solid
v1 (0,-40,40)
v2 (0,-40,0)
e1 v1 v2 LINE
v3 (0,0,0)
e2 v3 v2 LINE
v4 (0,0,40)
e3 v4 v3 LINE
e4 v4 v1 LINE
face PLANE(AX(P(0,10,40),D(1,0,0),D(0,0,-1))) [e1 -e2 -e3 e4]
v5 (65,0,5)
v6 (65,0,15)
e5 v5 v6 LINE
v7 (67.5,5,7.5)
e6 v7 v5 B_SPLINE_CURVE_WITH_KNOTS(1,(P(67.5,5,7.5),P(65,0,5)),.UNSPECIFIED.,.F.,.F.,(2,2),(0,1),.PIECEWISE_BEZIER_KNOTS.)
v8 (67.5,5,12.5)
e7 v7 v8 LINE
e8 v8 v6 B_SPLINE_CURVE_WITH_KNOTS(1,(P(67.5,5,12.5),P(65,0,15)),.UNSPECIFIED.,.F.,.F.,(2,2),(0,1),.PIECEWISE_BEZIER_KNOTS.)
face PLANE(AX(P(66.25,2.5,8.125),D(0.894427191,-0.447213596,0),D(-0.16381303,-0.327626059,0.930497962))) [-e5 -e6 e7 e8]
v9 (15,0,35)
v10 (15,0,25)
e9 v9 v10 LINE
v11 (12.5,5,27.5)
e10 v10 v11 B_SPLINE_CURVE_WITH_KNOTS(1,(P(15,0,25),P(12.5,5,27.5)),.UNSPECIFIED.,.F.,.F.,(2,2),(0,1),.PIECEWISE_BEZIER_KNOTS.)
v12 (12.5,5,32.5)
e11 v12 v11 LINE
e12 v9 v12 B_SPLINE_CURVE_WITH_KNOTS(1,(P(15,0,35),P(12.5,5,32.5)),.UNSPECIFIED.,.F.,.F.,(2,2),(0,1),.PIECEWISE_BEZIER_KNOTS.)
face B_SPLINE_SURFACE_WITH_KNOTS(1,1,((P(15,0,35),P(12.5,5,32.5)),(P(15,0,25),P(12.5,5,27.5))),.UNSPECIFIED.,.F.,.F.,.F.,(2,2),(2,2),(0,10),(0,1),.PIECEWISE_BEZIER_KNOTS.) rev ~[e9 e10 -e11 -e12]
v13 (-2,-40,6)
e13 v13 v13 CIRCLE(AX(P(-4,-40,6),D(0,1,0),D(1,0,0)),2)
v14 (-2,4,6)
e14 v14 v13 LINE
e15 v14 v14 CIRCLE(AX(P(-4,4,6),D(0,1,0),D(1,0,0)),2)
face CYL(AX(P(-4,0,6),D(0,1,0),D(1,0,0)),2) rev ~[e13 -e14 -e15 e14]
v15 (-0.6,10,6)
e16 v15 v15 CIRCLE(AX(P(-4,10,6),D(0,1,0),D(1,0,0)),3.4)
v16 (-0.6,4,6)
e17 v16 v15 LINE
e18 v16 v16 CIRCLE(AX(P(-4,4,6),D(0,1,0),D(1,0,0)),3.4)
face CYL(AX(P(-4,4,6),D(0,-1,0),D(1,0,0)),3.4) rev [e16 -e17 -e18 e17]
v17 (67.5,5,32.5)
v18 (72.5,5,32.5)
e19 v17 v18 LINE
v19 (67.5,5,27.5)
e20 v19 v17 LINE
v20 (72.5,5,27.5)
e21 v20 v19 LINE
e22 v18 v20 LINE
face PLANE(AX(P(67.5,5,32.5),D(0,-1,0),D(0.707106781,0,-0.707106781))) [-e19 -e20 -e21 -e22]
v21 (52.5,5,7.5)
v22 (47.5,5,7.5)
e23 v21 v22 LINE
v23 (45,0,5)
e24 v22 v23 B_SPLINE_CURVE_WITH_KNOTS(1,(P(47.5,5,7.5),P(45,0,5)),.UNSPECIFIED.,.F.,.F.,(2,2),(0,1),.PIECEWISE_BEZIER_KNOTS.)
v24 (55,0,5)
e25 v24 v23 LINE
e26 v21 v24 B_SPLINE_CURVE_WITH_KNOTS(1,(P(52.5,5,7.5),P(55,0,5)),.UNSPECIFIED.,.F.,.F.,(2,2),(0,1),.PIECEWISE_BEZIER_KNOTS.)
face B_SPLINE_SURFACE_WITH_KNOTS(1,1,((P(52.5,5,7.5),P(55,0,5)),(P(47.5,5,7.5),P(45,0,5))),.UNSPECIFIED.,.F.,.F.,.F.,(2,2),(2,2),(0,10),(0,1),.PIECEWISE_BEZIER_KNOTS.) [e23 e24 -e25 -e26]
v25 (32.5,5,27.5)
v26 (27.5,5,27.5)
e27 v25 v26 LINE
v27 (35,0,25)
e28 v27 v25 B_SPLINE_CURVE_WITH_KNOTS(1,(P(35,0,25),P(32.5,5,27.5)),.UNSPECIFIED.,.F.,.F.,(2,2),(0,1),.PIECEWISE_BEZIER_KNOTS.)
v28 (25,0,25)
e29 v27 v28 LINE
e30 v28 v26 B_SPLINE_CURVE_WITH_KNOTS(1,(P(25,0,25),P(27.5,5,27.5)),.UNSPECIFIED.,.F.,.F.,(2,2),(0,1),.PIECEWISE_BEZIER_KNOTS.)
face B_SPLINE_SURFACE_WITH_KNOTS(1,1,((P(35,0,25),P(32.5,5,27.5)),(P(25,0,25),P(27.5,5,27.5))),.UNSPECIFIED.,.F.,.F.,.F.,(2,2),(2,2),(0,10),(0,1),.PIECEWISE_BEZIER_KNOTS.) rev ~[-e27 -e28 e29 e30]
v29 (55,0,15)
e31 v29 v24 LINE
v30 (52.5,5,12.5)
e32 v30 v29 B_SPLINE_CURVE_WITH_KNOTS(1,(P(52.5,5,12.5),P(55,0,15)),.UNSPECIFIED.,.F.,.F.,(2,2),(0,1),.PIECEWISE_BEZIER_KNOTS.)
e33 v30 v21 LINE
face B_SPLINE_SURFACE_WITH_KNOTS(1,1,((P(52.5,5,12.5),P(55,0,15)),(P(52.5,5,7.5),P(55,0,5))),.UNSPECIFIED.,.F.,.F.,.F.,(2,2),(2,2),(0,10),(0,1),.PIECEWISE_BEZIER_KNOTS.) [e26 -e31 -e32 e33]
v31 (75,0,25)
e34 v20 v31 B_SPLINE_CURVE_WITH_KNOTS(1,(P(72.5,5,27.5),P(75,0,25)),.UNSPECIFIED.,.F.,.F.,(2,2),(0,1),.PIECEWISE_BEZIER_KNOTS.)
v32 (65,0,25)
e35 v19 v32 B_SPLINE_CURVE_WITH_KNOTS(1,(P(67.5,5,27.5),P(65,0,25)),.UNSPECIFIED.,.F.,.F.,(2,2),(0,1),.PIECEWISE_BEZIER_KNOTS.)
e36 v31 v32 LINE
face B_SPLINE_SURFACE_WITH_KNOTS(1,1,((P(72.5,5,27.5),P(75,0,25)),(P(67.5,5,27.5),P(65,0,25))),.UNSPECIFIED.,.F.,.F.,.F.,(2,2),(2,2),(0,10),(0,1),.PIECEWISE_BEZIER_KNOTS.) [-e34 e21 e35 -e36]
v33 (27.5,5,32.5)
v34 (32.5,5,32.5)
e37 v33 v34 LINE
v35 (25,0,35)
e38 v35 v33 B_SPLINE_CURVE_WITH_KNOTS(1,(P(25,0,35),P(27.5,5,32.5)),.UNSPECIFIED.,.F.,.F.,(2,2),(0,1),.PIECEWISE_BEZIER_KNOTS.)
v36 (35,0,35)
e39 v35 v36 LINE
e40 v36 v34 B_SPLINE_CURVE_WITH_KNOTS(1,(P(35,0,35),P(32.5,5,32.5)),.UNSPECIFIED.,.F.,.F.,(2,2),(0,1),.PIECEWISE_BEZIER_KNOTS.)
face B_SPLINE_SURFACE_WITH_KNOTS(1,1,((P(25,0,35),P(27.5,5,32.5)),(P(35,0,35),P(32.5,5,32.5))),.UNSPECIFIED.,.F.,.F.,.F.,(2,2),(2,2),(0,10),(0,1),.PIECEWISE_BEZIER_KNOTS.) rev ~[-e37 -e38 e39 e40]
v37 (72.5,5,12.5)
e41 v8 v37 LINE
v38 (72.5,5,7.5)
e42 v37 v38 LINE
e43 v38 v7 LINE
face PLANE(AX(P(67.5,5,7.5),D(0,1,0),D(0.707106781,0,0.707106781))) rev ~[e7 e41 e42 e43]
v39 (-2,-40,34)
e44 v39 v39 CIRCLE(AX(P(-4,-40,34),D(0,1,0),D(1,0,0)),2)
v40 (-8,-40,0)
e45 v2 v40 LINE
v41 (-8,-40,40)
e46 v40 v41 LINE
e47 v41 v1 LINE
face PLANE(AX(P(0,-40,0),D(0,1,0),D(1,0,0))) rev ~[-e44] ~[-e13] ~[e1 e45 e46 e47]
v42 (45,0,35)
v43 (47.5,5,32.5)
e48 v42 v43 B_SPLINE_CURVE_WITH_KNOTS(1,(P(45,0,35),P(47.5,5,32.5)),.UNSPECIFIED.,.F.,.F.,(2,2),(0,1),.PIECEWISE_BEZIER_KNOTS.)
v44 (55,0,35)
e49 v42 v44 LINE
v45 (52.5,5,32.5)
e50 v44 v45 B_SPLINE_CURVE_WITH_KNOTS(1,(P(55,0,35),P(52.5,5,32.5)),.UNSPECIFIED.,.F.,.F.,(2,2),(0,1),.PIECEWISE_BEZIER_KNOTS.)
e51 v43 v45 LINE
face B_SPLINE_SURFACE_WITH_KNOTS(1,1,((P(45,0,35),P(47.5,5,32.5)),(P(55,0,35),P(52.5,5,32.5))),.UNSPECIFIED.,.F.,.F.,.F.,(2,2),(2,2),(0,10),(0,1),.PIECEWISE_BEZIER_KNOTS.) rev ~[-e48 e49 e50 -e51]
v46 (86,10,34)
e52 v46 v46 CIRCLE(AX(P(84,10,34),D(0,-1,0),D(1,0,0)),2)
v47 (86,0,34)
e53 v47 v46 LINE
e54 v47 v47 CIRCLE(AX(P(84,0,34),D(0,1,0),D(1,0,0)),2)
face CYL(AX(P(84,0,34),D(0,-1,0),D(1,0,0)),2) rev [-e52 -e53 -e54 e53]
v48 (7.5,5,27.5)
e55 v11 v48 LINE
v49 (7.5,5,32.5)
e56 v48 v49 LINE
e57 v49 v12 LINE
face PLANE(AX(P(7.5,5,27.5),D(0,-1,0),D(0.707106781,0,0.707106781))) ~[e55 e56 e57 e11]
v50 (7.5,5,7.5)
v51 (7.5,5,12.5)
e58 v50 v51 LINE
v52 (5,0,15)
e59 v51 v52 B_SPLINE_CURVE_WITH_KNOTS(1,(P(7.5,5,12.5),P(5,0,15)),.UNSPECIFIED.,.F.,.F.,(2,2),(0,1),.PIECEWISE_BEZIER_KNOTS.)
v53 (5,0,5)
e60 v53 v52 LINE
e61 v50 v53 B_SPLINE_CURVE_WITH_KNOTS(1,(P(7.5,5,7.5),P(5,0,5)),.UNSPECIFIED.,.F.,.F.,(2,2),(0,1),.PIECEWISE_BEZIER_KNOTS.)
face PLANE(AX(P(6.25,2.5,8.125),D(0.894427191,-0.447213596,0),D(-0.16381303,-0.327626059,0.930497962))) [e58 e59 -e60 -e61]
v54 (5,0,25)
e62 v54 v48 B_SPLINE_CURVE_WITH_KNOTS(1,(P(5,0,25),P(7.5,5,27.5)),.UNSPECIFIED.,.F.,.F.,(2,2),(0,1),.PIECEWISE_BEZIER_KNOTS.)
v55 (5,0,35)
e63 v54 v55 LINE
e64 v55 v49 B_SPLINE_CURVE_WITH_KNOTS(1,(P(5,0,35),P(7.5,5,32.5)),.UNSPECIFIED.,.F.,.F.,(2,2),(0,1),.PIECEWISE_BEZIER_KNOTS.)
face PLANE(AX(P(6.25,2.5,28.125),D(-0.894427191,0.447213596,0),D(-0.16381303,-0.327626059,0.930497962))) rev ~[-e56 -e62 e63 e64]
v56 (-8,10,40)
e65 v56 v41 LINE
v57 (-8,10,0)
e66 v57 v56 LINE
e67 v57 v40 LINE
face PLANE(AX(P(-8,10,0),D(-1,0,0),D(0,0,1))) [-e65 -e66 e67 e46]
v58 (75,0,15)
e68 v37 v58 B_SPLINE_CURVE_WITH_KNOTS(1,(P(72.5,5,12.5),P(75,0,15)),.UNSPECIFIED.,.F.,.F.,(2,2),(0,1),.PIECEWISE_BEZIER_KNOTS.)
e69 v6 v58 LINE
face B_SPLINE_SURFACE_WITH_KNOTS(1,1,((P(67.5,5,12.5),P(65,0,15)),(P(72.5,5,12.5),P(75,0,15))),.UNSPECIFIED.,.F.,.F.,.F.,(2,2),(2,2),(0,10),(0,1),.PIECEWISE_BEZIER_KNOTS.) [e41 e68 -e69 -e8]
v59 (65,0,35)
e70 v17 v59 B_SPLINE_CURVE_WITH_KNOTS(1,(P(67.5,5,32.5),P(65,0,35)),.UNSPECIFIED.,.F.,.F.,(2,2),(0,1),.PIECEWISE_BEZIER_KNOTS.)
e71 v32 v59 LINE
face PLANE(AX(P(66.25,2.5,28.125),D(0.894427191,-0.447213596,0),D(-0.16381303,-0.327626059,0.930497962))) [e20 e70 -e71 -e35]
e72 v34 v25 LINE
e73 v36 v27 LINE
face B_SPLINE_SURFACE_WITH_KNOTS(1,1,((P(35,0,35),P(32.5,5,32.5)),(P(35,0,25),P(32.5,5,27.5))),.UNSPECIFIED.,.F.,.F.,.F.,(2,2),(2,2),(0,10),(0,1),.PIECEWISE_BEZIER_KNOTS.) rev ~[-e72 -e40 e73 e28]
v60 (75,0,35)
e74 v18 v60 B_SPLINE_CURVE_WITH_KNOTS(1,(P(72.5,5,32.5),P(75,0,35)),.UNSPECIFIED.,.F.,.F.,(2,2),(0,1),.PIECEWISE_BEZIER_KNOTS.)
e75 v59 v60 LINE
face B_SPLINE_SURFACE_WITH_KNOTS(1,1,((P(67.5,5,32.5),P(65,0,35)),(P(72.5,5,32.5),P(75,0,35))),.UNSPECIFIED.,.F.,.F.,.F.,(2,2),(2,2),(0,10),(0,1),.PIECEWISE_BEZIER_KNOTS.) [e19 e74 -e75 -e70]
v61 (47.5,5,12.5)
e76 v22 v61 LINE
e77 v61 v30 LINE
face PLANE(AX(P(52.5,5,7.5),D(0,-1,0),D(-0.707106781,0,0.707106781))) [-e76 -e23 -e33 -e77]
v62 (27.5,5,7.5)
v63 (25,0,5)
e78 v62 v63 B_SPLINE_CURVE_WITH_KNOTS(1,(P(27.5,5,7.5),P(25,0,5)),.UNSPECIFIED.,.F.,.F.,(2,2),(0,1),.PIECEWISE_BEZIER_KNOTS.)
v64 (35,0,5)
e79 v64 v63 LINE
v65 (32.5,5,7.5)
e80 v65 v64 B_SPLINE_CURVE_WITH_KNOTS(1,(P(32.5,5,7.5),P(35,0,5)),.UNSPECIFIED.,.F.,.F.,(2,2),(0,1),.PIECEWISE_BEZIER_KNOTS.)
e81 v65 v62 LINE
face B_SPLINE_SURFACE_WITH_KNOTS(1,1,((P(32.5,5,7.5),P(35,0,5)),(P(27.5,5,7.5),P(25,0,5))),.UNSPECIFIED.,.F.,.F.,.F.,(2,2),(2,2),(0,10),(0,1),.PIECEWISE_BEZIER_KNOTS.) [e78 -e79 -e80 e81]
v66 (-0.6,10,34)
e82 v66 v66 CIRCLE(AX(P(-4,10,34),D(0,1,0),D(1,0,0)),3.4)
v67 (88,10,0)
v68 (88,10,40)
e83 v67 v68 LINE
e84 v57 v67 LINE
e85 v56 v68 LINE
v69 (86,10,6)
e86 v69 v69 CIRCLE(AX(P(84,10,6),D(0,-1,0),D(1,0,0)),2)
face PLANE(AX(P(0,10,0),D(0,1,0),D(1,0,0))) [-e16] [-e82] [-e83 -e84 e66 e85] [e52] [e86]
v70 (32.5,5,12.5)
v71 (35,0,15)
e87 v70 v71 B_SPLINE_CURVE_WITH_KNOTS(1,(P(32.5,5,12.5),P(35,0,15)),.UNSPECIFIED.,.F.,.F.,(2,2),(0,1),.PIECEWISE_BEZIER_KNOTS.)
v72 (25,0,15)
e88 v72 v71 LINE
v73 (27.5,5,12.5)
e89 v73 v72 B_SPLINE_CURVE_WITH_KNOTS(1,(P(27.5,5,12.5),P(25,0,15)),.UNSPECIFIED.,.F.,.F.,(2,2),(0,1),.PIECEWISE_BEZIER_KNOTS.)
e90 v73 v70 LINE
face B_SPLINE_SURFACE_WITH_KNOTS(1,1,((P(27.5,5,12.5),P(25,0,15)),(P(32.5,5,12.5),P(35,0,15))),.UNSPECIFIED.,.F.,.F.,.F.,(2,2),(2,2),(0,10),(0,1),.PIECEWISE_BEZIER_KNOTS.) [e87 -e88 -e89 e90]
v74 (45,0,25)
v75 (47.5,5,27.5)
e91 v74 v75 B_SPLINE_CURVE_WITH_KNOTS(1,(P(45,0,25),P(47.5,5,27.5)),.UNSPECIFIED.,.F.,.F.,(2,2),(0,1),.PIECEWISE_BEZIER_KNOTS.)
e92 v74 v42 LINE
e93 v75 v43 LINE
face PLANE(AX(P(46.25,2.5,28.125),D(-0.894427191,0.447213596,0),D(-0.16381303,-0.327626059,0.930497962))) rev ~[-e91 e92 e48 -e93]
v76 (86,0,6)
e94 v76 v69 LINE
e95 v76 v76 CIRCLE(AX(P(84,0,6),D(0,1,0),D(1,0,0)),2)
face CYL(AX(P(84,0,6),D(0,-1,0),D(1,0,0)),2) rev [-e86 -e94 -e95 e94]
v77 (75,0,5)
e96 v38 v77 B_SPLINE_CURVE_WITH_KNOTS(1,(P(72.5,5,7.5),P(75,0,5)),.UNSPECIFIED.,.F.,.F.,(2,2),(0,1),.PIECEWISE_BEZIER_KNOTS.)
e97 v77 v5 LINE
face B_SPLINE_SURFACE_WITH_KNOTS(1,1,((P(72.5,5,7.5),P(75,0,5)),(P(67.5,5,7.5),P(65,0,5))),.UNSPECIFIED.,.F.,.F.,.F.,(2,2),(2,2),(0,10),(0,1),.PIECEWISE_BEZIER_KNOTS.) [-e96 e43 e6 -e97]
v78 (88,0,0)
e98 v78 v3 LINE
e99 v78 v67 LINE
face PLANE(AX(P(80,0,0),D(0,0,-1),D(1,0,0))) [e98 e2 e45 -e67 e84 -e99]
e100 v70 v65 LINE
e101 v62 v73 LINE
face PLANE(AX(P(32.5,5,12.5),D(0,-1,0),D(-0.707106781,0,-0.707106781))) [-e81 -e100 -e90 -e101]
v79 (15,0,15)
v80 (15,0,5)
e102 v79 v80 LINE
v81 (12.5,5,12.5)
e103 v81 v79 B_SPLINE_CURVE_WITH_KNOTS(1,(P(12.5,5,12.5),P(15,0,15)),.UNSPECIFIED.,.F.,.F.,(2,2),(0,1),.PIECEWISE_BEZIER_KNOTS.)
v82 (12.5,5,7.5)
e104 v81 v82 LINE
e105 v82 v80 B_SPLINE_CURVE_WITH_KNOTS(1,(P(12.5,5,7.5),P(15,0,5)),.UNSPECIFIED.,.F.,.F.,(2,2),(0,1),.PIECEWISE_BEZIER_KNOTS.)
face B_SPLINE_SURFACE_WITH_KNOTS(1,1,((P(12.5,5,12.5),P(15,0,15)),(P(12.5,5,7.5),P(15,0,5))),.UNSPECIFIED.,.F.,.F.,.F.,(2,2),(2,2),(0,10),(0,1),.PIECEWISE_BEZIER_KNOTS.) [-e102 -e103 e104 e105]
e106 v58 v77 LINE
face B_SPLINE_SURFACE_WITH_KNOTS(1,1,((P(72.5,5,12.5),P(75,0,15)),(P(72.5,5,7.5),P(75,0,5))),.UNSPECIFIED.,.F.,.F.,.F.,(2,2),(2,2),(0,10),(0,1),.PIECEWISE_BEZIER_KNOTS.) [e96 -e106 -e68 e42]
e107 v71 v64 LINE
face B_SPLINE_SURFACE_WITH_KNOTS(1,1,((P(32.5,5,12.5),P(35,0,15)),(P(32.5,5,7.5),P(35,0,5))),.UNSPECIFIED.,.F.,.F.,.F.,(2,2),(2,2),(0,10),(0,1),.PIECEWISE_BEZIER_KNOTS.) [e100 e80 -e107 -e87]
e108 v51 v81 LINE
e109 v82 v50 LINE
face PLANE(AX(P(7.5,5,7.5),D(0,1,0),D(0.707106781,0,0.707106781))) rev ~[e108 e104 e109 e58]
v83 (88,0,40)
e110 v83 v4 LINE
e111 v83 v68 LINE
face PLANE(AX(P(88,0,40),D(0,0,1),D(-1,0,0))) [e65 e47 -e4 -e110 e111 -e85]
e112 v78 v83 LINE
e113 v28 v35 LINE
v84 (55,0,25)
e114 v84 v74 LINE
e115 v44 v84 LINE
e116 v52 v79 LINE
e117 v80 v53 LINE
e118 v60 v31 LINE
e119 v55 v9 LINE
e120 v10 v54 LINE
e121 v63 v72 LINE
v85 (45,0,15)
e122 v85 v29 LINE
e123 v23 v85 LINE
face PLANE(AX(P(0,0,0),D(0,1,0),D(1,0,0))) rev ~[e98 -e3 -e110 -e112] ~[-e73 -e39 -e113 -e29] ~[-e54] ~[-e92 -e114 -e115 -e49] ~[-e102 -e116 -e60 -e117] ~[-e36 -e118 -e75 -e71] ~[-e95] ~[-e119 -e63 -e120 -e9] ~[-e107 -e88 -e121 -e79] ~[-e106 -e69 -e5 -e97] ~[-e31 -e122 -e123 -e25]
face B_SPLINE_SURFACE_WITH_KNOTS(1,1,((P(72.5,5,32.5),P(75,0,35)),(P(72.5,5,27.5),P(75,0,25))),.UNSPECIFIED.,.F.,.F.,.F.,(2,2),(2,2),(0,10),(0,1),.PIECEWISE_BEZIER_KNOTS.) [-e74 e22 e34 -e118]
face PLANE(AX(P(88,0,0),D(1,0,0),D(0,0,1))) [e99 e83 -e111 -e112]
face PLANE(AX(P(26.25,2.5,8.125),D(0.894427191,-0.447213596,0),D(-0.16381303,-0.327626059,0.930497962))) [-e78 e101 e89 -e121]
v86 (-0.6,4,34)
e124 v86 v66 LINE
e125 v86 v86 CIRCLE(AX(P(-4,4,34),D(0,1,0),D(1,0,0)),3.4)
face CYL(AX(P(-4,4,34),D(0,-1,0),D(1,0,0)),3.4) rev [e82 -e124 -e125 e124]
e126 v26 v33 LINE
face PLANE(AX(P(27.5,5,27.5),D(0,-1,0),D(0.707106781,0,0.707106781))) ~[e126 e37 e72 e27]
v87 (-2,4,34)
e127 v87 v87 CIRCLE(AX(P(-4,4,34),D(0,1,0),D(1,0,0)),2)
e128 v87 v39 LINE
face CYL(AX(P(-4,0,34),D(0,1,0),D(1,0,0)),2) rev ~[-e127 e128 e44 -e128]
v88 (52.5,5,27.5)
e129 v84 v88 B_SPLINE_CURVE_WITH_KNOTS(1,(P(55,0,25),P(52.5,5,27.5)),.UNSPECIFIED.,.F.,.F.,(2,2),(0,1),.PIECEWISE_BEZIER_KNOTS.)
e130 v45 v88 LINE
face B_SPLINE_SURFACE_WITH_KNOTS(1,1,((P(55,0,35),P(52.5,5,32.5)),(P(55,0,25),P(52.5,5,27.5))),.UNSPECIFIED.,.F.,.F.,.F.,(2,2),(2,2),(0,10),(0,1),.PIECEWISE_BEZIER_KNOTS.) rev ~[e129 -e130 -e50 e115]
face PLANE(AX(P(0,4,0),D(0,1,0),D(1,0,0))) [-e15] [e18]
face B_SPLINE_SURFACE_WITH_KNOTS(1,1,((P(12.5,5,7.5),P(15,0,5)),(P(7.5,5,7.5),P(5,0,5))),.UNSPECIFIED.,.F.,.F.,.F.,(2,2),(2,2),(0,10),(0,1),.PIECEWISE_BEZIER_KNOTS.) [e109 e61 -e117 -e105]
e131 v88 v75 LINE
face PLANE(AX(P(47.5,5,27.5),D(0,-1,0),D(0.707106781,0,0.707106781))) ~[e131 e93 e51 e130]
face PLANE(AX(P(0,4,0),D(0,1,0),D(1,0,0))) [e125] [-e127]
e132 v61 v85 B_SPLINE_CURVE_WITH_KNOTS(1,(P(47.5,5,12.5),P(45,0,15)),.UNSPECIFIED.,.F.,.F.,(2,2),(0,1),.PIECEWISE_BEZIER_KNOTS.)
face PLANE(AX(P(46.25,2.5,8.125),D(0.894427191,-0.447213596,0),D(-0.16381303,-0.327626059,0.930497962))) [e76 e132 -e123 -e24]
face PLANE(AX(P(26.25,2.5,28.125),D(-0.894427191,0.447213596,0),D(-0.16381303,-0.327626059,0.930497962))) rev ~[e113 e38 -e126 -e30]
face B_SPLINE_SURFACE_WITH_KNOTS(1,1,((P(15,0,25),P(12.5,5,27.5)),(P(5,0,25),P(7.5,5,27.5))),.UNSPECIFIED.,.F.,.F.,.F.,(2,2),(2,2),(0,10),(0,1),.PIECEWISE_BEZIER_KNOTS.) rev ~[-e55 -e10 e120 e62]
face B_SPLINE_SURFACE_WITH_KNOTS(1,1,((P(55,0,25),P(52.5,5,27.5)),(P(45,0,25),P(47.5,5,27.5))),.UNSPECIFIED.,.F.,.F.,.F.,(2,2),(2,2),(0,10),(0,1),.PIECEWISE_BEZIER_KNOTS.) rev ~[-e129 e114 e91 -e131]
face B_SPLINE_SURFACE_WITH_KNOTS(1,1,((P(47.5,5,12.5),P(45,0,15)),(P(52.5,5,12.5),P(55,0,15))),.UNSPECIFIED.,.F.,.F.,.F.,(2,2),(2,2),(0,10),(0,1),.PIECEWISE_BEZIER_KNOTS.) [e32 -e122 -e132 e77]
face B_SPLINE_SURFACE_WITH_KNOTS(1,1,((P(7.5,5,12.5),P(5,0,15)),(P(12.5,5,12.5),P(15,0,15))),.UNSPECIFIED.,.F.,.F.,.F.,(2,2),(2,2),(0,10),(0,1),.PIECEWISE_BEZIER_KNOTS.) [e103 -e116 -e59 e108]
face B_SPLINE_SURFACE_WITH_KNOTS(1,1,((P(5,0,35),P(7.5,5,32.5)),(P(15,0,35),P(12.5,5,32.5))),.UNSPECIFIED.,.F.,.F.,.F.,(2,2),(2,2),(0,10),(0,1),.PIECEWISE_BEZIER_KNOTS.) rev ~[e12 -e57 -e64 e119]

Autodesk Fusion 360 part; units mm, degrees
sketch "baseplate" plane through (0, 0, 0) normal (0, 1, 0) x (1, 0, 0)
  line L0 (0, 0) -> (80, 0)
  line L1 (80, 0) -> (80, -40)
  line L2 (80, -40) -> (0, -40)
  line L3 (0, -40) -> (0, 0)
  dimension "d1" = 40
  dimension "d2" = 80
extrude "Extrude1" add sketch "baseplate" along normal blind 10
sketch "outside_pryamid" plane through (0, 0, 0) normal (0, 1, 0) x (1, 0, 0)
  line L0 (5, -35) -> (15, -35)
  line L1 (15, -35) -> (15, -25)
  line L2 (15, -25) -> (5, -25)
  line L3 (5, -25) -> (5, -35)
  line L4 (25, -35) -> (35, -35)
  line L5 (35, -35) -> (35, -25)
  line L6 (35, -25) -> (25, -25)
  line L7 (25, -25) -> (25, -35)
  line L8 (45, -35) -> (55, -35)
  line L9 (55, -35) -> (55, -25)
  line L10 (55, -25) -> (45, -25)
  line L11 (45, -25) -> (45, -35)
  line L12 (65, -35) -> (75, -35)
  line L13 (75, -35) -> (75, -25)
  line L14 (75, -25) -> (65, -25)
  line L15 (65, -25) -> (65, -35)
  line L16 (25, -15) -> (35, -15)
  line L17 (35, -15) -> (35, -5)
  line L18 (35, -5) -> (25, -5)
  line L19 (25, -5) -> (25, -15)
  line L20 (5, -15) -> (15, -15)
  line L21 (15, -15) -> (15, -5)
  line L22 (15, -5) -> (5, -5)
  line L23 (5, -5) -> (5, -15)
  line L24 (45, -15) -> (55, -15)
  line L25 (55, -15) -> (55, -5)
  line L26 (55, -5) -> (45, -5)
  line L27 (45, -5) -> (45, -15)
  line L28 (65, -15) -> (75, -15)
  line L29 (75, -15) -> (75, -5)
  line L30 (75, -5) -> (65, -5)
  line L31 (65, -5) -> (65, -15)
  dimension "d5" = 10
  dimension "d6" = 10
ref_plane "WorkPlane1" through (0, 5, 0) normal (0, 1, 0) x (0, 0, 1)
sketch "inside_pryamid" plane through (0, 5, 0) normal (0, 1, 0) x (1, 0, 0)
  line L0 (7.5, -10) -> (7.5, -12.5)
  line L1 (7.5, -12.5) -> (12.5, -12.5)
  line L2 (12.5, -12.5) -> (12.5, -7.5)
  line L3 (12.5, -7.5) -> (7.5, -7.5)
  line L4 (7.5, -7.5) -> (7.5, -10)
  line L5 (32.5, -7.5) -> (27.5, -7.5)
  line L6 (27.5, -10) -> (27.5, -12.5)
  line L7 (32.5, -12.5) -> (32.5, -7.5)
  line L8 (27.5, -7.5) -> (27.5, -10)
  line L9 (27.5, -12.5) -> (32.5, -12.5)
  line L10 (47.5, -7.5) -> (47.5, -10)
  line L11 (47.5, -12.5) -> (52.5, -12.5)
  line L12 (52.5, -7.5) -> (47.5, -7.5)
  line L13 (47.5, -10) -> (47.5, -12.5)
  line L14 (52.5, -12.5) -> (52.5, -7.5)
  line L15 (67.5, -10) -> (67.5, -12.5)
  line L16 (67.5, -12.5) -> (72.5, -12.5)
  line L17 (67.5, -7.5) -> (67.5, -10)
  line L18 (72.5, -12.5) -> (72.5, -7.5)
  line L19 (72.5, -7.5) -> (67.5, -7.5)
  line L20 (67.5, -10) -> (67.5, -12.5)
  line L21 (7.5, -7.5) -> (7.5, -10)
  line L22 (12.5, -7.5) -> (7.5, -7.5)
  line L23 (7.5, -10) -> (7.5, -12.5)
  line L24 (67.5, -12.5) -> (72.5, -12.5)
  line L25 (27.5, -10) -> (27.5, -12.5)
  line L26 (27.5, -12.5) -> (32.5, -12.5)
  line L27 (7.5, -12.5) -> (12.5, -12.5)
  line L28 (32.5, -12.5) -> (32.5, -7.5)
  line L29 (72.5, -12.5) -> (72.5, -7.5)
  line L30 (47.5, -7.5) -> (47.5, -10)
  line L31 (52.5, -12.5) -> (52.5, -7.5)
  line L32 (72.5, -7.5) -> (67.5, -7.5)
  line L33 (47.5, -10) -> (47.5, -12.5)
  line L34 (52.5, -7.5) -> (47.5, -7.5)
  line L35 (67.5, -7.5) -> (67.5, -10)
  line L36 (47.5, -12.5) -> (52.5, -12.5)
  line L37 (32.5, -7.5) -> (27.5, -7.5)
  line L38 (27.5, -7.5) -> (27.5, -10)
  line L39 (12.5, -12.5) -> (12.5, -7.5)
  line L40 (72.5, -32.5) -> (72.5, -27.5)
  line L41 (12.5, -32.5) -> (12.5, -27.5)
  line L42 (72.5, -27.5) -> (67.5, -27.5)
  line L43 (7.5, -30) -> (7.5, -32.5)
  line L44 (67.5, -30) -> (67.5, -32.5)
  line L45 (72.5, -27.5) -> (67.5, -27.5)
  line L46 (67.5, -27.5) -> (67.5, -30)
  line L47 (47.5, -30) -> (47.5, -32.5)
  line L48 (12.5, -27.5) -> (7.5, -27.5)
  line L49 (67.5, -27.5) -> (67.5, -30)
  line L50 (67.5, -30) -> (67.5, -32.5)
  line L51 (7.5, -32.5) -> (12.5, -32.5)
  line L52 (67.5, -32.5) -> (72.5, -32.5)
  line L53 (72.5, -32.5) -> (72.5, -27.5)
  line L54 (7.5, -30) -> (7.5, -32.5)
  line L55 (47.5, -32.5) -> (52.5, -32.5)
  line L56 (47.5, -32.5) -> (52.5, -32.5)
  line L57 (67.5, -32.5) -> (72.5, -32.5)
  line L58 (52.5, -32.5) -> (52.5, -27.5)
  line L59 (7.5, -32.5) -> (12.5, -32.5)
  line L60 (52.5, -27.5) -> (47.5, -27.5)
  line L61 (52.5, -27.5) -> (47.5, -27.5)
  line L62 (47.5, -30) -> (47.5, -32.5)
  line L63 (7.5, -27.5) -> (7.5, -30)
  line L64 (27.5, -30) -> (27.5, -32.5)
  line L65 (32.5, -27.5) -> (27.5, -27.5)
  line L66 (27.5, -32.5) -> (32.5, -32.5)
  line L67 (52.5, -32.5) -> (52.5, -27.5)
  line L68 (27.5, -27.5) -> (27.5, -30)
  line L69 (32.5, -32.5) -> (32.5, -27.5)
  line L70 (27.5, -32.5) -> (32.5, -32.5)
  line L71 (27.5, -30) -> (27.5, -32.5)
  line L72 (12.5, -27.5) -> (7.5, -27.5)
  line L73 (7.5, -27.5) -> (7.5, -30)
  line L74 (47.5, -27.5) -> (47.5, -30)
  line L75 (12.5, -32.5) -> (12.5, -27.5)
  line L76 (47.5, -27.5) -> (47.5, -30)
  line L77 (32.5, -32.5) -> (32.5, -27.5)
  line L78 (32.5, -27.5) -> (27.5, -27.5)
  line L79 (27.5, -27.5) -> (27.5, -30)
loft "Loft1" cut profiles "outside_pryamid", "inside_pryamid" section 1 contours L0 L1 L2 L3 section 2 contours L41 L43 L48 L51 L54 L59 L63 L72 L73 L75
loft "Loft2" cut profiles "outside_pryamid", "inside_pryamid" section 1 contours L4 L5 L6 L7 section 2 contours L64 L65 L66 L68 L69 L70 L71 L77 L78 L79
loft "Loft3" cut profiles "outside_pryamid", "inside_pryamid" section 1 contours L8 L9 L10 L11 section 2 contours L47 L55 L56 L58 L60 L61 L62 L67 L74 L76
loft "Loft4" cut profiles "inside_pryamid", "outside_pryamid" section 1 contours L40 L42 L44 L45 L46 L49 L50 L52 L53 L57 section 2 contours L12 L13 L14 L15
loft "Loft5" cut profiles "inside_pryamid", "outside_pryamid" section 1 contours L0 L1 L2 L3 L4 L21 L22 L23 L27 L39 section 2 contours L20 L21 L22 L23
loft "Loft6" cut profiles "inside_pryamid", "outside_pryamid" section 1 contours L5 L6 L7 L8 L9 L25 L26 L28 L37 L38 section 2 contours L16 L17 L18 L19
loft "Loft7" cut profiles "inside_pryamid", "outside_pryamid" section 1 contours L10 L11 L12 L13 L14 L30 L31 L33 L34 L36 section 2 contours L24 L25 L26 L27
loft "Loft8" cut profiles "inside_pryamid", "outside_pryamid" section 1 contours L15 L16 L17 L18 L19 L20 L24 L29 L32 L35 section 2 contours L28 L29 L30 L31
sketch "sidewall" plane through (0, 0, 0) normal (0, 1, 0) x (1, 0, 0)
  line L0 (0, 0) -> (-8, 0)
  line L1 (-8, 0) -> (-8, -40)
  line L2 (-8, -40) -> (0, -40)
  line L3 (0, -40) -> (0, 0)
  dimension "d12" = 8
extrude "Extrude2" add sketch "sidewall" along normal blind -40 and the other way blind -10
sketch "sidemount" plane through (0, 0, 0) normal (0, 1, 0) x (1, 0, 0)
  line L0 (80, 0) -> (88, 0)
  line L1 (88, 0) -> (88, -40)
  line L2 (88, -40) -> (80, -40)
  line L3 (80, -40) -> (80, 0)
extrude "Extrude3" add sketch "sidemount" along normal blind 10
sketch "Sketch6" plane through (0, 0, 0) normal (0, 1, 0) x (1, 0, 0)
  circle A0 centre (-4, -34) radius 2
  circle A1 centre (-4, -6) radius 2
  circle A2 centre (-4, -34) radius 3.4
  circle A3 centre (-4, -6) radius 3.4
  line L0 (88, 0) -> (84, 0)
  line L1 (84, 0) -> (84, -6)
  line L2 (84, -6) -> (88, -6)
  line L3 (88, -6) -> (88, 0)
  circle A4 centre (84, -34) radius 2
  circle A5 centre (84, -6) radius 2
  dimension "d19" = 4
  dimension "d20" = 4
  dimension "d21" = 6.8
  dimension "d22" = 6.8
  dimension "d25" = 4
  dimension "d26" = 6
  dimension "d27" = 4
  dimension "d28" = 4
extrude "Extrude4" cut sketch "Sketch6" against normal blind 50 contours A0 | A1
extrude "Extrude5" cut sketch "Sketch6" along normal blind 40 contours L1 L2 A5 | L1 L2 A5 | A4
extrude "Extrude6" cut sketch "Sketch6" along normal through all and the other way blind 44 contours A0 | A1
extrude "Extrude7" cut sketch "Sketch6" along normal blind 10 and the other way blind -4 contours A2 | A3
